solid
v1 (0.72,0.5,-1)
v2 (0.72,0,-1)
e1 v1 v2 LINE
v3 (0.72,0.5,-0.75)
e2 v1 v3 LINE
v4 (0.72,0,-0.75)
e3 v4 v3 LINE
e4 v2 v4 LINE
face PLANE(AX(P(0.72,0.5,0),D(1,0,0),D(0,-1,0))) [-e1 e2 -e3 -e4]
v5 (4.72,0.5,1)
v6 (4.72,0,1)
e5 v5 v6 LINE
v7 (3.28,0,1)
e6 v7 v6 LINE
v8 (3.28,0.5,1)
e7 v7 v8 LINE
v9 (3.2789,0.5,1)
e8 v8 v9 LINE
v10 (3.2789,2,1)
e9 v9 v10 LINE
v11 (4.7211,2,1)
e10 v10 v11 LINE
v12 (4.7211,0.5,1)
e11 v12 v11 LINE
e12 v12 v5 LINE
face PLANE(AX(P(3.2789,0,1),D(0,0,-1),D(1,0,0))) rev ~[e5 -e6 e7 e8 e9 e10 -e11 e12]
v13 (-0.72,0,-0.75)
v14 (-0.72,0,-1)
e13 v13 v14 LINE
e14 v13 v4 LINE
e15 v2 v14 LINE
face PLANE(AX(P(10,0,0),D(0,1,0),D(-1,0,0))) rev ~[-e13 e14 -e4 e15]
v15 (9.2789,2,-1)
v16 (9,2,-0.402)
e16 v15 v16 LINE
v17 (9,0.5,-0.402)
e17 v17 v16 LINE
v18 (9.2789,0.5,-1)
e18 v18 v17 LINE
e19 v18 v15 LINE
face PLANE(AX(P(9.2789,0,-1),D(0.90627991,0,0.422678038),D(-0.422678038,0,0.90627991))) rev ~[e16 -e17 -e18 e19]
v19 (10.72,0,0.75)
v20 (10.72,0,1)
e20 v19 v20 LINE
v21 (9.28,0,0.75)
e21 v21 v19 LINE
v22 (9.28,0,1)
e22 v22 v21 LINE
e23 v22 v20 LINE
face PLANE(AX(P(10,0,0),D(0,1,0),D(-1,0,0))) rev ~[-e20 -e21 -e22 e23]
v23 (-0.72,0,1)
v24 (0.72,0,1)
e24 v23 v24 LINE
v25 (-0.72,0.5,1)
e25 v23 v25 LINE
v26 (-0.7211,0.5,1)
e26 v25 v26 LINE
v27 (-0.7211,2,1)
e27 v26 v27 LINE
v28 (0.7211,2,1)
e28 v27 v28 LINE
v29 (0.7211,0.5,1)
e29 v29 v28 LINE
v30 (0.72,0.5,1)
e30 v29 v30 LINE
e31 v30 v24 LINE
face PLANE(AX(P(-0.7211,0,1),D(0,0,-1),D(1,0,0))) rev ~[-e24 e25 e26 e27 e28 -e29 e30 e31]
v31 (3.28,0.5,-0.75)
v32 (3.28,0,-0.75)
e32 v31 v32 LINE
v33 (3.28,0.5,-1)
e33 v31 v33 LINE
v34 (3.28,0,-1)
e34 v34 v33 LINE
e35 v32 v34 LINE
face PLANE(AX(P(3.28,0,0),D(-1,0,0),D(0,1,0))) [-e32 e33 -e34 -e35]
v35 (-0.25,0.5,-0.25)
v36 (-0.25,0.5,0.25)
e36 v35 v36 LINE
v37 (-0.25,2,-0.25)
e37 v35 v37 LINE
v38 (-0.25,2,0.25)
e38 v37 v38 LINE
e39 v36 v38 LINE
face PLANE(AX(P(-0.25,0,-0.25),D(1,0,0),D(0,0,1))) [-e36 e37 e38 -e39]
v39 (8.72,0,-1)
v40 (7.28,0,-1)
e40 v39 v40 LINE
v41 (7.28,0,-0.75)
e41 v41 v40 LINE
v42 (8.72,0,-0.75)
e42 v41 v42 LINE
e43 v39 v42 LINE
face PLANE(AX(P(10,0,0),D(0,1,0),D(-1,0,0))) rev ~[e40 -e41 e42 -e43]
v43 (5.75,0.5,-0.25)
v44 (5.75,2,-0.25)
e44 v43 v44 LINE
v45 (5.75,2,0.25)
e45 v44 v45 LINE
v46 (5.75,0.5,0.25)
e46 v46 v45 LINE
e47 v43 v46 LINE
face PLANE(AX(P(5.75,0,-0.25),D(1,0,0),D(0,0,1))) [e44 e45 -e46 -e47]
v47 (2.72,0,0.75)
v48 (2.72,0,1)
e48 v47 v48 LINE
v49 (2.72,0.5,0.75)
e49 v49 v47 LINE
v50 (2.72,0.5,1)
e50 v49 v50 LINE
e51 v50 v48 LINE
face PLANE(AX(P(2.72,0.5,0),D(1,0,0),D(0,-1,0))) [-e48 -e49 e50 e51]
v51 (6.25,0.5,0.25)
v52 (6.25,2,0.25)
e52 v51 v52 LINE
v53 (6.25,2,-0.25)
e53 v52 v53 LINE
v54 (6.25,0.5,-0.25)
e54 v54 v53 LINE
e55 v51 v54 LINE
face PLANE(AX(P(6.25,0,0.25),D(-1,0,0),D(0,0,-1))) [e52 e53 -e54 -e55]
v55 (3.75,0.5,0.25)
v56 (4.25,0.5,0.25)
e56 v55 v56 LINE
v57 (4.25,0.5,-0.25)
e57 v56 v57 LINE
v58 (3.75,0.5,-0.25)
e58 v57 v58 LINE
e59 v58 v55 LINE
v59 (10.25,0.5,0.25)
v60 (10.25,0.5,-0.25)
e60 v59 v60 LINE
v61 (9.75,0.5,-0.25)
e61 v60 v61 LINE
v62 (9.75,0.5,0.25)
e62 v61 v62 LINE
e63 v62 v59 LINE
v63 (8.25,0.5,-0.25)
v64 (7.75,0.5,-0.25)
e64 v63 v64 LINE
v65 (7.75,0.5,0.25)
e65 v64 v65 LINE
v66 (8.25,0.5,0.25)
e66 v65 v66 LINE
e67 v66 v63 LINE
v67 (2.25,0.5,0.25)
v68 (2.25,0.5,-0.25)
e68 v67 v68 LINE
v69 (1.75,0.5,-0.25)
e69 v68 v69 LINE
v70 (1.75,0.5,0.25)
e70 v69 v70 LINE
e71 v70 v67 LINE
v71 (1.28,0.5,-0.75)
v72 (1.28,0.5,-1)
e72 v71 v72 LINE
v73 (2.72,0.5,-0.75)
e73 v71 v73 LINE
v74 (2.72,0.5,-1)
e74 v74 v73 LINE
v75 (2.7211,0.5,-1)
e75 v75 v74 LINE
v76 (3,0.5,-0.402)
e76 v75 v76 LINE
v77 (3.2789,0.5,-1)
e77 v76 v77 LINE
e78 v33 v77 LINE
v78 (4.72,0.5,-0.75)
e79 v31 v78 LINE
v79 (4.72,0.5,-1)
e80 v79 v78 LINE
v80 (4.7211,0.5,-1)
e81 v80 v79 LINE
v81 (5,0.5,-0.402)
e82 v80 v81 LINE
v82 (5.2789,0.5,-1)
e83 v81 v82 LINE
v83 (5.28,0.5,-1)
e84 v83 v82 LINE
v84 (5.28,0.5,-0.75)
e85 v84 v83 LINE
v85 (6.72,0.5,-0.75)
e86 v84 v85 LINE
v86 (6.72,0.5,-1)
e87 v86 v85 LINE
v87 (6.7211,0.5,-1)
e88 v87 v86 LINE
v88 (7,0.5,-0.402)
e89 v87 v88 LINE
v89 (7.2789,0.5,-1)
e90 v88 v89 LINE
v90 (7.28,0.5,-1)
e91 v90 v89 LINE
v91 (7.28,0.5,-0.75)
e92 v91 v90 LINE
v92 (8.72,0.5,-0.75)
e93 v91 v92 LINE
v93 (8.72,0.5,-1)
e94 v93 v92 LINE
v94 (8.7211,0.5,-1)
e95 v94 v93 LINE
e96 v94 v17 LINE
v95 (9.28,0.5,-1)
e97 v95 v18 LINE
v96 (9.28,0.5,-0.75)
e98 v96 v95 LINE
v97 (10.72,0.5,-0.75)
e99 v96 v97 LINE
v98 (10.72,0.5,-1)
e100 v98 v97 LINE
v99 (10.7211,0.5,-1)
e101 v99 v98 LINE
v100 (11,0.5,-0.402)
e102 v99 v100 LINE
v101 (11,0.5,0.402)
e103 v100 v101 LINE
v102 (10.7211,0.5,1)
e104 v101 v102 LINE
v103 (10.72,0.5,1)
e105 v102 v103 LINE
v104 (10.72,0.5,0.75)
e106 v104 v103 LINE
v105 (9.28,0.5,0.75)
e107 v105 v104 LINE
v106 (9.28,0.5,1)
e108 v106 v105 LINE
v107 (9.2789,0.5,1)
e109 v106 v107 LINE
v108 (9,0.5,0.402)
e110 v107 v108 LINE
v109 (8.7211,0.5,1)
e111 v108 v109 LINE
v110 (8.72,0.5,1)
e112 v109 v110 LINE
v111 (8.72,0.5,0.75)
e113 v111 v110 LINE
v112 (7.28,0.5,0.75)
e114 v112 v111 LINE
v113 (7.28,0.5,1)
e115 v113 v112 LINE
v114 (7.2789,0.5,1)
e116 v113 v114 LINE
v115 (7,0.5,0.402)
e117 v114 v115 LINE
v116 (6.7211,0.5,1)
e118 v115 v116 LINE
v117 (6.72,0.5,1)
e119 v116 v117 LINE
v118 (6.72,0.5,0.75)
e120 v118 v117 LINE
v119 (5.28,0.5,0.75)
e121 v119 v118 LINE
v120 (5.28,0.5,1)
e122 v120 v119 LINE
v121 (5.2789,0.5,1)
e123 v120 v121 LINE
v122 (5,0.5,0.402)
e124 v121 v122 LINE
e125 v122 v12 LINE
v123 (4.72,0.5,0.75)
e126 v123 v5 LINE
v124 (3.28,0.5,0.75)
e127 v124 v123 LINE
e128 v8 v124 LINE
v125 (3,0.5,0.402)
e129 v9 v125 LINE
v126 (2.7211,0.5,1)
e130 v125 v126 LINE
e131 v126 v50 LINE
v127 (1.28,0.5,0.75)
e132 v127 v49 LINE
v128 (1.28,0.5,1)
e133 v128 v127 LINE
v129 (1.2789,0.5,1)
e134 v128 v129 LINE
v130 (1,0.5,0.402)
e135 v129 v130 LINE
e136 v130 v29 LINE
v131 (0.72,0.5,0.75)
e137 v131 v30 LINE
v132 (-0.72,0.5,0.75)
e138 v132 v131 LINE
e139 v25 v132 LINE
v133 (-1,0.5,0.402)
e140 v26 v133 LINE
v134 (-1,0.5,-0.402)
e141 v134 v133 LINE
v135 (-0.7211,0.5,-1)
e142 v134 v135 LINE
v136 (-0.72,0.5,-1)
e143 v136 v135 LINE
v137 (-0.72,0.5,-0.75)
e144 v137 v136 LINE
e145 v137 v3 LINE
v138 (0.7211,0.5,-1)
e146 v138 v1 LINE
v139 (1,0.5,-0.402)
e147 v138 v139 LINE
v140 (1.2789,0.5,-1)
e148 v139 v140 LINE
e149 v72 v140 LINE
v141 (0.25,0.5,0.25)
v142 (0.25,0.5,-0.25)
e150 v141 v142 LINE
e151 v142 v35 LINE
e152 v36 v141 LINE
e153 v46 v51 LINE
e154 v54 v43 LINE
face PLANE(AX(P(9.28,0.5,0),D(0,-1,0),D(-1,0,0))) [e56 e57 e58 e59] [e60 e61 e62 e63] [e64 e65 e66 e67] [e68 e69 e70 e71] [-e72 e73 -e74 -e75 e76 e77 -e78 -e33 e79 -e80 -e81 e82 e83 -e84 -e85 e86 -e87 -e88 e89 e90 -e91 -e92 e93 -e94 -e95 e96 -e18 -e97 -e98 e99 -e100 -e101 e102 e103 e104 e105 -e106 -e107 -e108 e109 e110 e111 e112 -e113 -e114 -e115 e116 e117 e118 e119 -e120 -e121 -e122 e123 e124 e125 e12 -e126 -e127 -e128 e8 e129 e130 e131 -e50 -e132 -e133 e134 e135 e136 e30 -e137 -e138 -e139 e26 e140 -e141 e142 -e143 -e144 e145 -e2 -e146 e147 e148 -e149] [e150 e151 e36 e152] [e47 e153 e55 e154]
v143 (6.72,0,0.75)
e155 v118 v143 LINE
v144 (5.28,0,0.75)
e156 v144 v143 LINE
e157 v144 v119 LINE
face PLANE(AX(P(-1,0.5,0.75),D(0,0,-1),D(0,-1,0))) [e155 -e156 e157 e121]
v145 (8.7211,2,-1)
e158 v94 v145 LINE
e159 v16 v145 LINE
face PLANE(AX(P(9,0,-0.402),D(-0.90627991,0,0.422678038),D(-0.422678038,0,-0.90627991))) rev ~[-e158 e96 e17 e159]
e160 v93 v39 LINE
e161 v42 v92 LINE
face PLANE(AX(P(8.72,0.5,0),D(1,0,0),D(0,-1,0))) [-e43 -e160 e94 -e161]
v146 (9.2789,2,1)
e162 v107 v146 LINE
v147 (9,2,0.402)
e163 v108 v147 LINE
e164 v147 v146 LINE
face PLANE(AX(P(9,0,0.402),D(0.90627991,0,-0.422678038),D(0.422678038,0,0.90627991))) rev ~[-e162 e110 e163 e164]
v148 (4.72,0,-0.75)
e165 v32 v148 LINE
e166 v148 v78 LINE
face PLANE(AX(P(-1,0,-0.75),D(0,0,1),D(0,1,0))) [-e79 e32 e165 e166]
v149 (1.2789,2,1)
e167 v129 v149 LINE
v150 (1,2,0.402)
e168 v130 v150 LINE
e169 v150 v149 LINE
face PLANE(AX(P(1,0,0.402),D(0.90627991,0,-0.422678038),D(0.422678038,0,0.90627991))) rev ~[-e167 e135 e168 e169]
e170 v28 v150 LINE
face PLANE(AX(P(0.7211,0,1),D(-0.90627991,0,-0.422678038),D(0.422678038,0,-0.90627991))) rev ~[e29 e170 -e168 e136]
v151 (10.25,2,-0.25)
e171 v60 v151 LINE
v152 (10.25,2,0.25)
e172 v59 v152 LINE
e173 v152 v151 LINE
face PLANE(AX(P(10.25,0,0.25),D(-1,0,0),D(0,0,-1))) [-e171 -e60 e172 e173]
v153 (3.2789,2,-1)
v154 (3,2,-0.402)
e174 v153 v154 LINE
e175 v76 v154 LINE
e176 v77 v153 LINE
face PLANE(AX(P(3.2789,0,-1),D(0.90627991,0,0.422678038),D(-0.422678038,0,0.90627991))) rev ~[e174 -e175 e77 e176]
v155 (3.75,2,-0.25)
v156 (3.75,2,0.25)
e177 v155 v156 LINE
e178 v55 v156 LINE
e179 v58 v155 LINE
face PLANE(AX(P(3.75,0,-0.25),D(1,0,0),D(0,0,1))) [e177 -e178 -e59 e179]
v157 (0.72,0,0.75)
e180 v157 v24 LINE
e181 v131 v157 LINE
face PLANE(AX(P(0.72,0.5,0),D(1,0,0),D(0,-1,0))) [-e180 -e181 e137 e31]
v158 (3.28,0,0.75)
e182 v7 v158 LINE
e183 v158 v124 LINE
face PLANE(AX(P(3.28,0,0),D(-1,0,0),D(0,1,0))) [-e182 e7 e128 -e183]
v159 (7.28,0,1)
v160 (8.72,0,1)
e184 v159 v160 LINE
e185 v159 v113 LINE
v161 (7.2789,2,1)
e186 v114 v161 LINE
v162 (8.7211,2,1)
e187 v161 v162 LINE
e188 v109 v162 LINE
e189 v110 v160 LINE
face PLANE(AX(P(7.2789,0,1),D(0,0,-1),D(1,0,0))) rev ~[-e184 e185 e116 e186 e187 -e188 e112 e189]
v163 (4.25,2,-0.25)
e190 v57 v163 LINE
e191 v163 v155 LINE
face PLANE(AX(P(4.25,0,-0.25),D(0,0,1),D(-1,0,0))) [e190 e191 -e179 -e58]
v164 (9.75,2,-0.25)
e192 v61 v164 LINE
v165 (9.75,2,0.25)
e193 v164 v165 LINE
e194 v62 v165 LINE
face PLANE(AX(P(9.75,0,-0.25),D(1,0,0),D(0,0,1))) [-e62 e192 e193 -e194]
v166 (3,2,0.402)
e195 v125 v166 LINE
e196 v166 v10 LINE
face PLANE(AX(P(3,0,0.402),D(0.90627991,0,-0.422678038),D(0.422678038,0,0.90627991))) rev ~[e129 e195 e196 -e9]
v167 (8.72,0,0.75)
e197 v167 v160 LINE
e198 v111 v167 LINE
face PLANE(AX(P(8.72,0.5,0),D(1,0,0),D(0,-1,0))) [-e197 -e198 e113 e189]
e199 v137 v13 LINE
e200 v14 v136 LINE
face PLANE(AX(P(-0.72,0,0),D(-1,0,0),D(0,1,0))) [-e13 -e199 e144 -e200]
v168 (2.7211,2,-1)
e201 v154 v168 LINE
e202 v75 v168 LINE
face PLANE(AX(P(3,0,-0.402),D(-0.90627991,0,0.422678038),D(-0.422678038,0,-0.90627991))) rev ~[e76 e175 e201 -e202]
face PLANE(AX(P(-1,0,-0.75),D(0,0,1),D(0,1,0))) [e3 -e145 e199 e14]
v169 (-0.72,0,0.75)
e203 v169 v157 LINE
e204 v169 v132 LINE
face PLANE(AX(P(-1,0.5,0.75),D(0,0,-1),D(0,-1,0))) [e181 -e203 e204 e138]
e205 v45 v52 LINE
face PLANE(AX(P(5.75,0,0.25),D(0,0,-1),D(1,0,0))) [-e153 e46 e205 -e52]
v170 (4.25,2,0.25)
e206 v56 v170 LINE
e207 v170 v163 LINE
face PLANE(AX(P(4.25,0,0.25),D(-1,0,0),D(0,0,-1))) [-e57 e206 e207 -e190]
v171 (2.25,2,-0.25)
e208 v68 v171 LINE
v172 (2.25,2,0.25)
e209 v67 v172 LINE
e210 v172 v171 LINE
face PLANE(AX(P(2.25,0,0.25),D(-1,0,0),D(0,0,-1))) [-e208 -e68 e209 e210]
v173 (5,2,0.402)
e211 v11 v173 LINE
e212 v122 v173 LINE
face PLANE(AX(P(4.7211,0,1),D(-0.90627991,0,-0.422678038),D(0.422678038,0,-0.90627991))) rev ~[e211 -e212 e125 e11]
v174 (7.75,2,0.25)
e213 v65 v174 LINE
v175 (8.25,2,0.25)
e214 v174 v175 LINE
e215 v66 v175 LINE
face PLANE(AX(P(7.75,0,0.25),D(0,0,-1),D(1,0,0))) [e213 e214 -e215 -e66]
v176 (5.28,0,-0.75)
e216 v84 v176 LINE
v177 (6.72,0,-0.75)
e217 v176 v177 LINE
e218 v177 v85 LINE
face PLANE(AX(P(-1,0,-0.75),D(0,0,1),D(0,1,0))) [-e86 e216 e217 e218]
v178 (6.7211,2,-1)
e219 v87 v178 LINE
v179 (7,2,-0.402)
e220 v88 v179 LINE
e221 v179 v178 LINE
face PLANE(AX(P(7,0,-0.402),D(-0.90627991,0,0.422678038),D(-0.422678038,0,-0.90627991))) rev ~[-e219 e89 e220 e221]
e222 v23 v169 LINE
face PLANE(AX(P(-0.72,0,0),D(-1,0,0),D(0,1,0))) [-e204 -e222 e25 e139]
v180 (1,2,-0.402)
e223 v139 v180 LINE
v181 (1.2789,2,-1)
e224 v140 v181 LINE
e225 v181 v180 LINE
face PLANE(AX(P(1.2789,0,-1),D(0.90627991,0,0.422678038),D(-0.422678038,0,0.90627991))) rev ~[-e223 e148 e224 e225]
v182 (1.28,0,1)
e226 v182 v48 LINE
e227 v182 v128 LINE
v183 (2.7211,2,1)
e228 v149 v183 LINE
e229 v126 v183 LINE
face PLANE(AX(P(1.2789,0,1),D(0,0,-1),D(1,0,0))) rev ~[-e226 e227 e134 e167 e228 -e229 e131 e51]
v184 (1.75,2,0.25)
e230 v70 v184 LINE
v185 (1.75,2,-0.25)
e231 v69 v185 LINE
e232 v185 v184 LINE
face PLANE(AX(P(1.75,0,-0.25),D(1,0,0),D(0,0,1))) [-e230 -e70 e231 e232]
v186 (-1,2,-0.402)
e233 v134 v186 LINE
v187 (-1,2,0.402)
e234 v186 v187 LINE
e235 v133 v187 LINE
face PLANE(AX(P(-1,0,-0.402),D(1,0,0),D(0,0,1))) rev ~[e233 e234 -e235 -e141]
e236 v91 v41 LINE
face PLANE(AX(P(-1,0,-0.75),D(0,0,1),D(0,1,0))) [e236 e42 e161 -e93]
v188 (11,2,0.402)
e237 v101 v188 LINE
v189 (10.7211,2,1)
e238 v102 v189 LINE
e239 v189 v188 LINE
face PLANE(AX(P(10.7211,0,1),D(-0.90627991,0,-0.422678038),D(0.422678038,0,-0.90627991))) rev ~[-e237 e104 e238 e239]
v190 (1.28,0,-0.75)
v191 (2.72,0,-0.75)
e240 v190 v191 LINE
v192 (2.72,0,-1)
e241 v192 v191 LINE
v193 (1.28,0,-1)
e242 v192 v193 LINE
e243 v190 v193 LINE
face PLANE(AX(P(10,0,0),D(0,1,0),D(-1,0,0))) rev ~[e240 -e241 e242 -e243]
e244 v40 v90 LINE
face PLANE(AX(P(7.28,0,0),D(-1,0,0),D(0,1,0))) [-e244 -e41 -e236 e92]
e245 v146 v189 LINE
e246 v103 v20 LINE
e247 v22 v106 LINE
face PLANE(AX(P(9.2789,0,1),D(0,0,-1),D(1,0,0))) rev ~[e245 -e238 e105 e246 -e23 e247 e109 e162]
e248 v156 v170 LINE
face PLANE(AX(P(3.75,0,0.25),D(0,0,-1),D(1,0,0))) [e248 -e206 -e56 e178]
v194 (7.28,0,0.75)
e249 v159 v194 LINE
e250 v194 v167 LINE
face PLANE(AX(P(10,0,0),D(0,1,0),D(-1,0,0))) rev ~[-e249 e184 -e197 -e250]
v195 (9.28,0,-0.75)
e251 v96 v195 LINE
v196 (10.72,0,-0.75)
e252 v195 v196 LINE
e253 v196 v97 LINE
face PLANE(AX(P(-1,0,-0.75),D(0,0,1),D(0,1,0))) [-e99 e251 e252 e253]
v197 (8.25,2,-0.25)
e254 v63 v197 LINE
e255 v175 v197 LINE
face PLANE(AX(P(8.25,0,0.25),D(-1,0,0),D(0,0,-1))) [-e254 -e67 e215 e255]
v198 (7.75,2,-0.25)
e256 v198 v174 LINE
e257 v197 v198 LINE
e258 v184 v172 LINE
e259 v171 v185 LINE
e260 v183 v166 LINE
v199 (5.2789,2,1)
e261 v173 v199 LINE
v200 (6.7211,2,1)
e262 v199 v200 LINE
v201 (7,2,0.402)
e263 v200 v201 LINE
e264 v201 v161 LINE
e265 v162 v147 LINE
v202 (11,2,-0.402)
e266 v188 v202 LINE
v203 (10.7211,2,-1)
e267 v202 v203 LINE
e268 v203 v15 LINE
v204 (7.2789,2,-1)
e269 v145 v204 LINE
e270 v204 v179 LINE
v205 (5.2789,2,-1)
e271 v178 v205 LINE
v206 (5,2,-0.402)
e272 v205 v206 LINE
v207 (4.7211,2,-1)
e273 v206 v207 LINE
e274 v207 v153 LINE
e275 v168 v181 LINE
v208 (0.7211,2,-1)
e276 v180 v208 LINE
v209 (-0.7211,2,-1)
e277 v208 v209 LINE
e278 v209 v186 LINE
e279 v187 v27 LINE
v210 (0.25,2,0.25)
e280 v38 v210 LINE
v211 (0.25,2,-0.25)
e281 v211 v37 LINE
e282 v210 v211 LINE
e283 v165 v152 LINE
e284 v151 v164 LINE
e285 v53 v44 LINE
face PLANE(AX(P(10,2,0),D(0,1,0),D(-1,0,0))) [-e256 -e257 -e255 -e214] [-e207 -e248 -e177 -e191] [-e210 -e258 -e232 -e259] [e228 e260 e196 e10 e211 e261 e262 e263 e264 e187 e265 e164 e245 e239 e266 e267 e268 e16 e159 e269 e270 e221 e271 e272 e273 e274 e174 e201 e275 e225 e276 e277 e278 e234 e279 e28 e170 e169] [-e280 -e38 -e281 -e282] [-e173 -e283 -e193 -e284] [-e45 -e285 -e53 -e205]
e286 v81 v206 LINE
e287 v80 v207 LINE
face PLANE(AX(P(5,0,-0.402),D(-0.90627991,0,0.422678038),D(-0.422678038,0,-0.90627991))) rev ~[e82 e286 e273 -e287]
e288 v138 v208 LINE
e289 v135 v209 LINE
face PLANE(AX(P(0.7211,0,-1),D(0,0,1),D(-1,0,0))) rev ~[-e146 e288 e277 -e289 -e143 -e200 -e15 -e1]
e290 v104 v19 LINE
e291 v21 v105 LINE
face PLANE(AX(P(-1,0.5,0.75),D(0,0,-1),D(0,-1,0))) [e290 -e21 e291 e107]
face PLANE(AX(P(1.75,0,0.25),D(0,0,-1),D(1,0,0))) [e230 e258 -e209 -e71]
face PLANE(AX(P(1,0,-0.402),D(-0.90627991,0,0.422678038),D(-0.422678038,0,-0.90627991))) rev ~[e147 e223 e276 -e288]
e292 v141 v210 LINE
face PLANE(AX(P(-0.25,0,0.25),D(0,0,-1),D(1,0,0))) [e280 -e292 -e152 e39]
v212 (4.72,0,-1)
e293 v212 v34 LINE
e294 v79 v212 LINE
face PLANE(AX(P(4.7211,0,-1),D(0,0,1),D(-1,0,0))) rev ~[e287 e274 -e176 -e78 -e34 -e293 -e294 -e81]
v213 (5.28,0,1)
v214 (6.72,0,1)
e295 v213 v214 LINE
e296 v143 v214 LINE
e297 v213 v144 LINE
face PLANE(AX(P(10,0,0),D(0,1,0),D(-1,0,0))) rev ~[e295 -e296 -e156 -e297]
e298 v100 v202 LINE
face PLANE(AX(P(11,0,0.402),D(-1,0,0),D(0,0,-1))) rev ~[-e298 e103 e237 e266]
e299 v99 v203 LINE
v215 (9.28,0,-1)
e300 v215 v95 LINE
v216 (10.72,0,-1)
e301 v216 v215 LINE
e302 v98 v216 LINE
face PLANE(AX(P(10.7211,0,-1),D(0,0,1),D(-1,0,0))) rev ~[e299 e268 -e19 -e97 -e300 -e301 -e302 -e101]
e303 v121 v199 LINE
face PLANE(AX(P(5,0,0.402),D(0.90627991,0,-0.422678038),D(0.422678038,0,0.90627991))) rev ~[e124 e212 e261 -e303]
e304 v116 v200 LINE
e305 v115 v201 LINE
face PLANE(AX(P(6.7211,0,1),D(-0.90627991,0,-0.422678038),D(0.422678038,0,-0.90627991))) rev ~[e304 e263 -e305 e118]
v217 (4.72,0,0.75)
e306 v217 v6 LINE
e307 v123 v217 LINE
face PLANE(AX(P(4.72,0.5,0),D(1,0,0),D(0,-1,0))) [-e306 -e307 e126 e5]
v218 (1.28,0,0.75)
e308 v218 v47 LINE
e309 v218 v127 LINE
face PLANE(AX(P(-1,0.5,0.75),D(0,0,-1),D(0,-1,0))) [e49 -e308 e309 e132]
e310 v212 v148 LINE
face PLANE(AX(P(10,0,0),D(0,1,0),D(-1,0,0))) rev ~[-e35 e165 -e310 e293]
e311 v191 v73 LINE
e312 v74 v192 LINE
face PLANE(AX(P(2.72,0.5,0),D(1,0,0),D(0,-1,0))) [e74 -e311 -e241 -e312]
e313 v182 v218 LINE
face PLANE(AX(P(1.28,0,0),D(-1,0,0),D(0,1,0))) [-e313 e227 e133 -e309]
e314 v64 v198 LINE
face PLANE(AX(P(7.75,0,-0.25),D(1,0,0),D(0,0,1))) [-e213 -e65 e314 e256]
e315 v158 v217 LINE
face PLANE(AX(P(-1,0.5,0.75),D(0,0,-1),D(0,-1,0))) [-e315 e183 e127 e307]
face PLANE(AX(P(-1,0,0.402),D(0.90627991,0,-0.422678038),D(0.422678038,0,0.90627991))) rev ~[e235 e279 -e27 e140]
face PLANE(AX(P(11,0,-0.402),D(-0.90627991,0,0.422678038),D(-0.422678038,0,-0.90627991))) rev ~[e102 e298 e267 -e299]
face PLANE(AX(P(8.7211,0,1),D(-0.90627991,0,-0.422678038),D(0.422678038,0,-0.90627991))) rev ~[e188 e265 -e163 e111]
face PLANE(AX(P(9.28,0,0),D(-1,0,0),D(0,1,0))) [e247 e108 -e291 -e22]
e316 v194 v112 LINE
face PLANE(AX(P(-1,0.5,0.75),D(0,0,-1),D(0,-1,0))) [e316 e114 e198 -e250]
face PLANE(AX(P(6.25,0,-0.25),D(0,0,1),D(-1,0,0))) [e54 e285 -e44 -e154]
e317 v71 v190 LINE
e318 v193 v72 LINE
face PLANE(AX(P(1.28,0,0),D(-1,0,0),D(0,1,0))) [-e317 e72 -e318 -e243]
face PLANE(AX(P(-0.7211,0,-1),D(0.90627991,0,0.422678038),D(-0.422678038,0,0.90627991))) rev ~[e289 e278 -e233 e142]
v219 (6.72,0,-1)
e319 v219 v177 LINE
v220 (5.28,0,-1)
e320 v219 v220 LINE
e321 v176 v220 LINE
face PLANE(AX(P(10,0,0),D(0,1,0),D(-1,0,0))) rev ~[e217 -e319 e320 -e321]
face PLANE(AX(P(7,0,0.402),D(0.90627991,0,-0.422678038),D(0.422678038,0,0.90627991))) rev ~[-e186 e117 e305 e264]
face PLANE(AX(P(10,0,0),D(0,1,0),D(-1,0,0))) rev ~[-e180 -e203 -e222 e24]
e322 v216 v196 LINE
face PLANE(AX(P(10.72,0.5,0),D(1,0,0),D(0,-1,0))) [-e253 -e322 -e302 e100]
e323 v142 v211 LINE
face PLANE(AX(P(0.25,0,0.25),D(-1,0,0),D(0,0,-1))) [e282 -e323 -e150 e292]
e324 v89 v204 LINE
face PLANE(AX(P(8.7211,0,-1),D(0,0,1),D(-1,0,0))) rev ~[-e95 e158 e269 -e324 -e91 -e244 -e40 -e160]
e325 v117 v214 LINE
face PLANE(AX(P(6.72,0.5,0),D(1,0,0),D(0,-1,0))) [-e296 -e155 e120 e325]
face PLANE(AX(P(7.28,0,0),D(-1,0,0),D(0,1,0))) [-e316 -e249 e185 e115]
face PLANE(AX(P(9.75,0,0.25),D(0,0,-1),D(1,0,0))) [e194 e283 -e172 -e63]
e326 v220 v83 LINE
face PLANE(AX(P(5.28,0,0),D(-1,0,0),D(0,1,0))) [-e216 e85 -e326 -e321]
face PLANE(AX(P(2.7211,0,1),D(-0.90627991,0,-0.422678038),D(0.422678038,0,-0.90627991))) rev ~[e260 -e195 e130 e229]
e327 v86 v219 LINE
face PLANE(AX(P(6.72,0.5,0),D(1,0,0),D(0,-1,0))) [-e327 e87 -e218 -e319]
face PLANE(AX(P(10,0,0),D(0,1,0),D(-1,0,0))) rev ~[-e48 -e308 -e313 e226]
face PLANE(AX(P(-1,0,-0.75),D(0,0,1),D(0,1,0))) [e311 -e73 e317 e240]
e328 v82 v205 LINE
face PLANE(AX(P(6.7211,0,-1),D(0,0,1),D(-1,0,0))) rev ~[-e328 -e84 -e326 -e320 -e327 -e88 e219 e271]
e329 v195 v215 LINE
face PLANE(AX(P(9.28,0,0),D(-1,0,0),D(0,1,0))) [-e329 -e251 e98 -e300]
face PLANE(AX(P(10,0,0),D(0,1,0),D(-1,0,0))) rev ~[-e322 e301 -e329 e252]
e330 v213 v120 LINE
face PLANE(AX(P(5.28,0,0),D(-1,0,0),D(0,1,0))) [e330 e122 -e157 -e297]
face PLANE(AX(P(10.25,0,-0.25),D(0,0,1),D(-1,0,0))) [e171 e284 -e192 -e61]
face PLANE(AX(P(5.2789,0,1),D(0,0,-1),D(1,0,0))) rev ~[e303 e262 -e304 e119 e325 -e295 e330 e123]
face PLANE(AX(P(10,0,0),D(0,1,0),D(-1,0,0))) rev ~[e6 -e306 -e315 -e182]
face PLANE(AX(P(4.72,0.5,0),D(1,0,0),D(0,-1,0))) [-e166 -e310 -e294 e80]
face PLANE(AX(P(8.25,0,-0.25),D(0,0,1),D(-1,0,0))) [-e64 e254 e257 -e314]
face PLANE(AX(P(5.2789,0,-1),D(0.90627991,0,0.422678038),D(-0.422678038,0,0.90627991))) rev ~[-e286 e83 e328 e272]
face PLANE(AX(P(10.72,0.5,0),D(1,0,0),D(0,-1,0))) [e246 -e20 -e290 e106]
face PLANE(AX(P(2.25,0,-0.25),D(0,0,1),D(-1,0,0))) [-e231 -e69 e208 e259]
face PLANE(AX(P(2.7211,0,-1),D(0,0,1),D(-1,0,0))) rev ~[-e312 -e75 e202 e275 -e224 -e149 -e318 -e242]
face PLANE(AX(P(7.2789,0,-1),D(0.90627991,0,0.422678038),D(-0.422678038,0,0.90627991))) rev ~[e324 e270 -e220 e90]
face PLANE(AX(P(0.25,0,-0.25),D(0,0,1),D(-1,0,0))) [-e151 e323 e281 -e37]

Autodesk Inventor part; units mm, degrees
sketch "Sketch_2" plane through (0, 0, 0) normal (0, 1, 0) x (-1, 0, 0)
  line L0 (1, -0.402) -> (1, 0.402)
  line L1 (1, 0.402) -> (0.7211, 1)
  line L2 (0.7211, 1) -> (-0.7211, 1)
  line L3 (-0.7211, 1) -> (-1, 0.402)
  line L4 (-1, 0.402) -> (-1, -0.402)
  line L5 (-1, -0.402) -> (-0.7211, -1)
  line L6 (-0.7211, -1) -> (0.7211, -1)
  line L7 (0.7211, -1) -> (1, -0.402)
extrude "Extrusion1" add sketch "Sketch_2" along normal blind 2
pattern_linear "Rectangular Pattern1" count 6 spacing 2 along (1, 0, 0) of "Extrusion1"
sketch "Sketch_6" plane through (-1, 0, 0) normal (1, 0, 0) x (0, 0, -1)
  line L0 (-0.75, 0.5) -> (-0.75, 0)
  line L1 (-0.75, 0) -> (0.75, 0)
  line L2 (0.75, 0) -> (0.75, 0.5)
  line L3 (0.75, 0.5) -> (-0.75, 0.5)
extrude "Extrusion2" cut sketch "Sketch_6" along normal blind 12
sketch "Sketch_4" plane through (0, 0, 0) normal (0, 1, 0) x (-1, 0, 0)
  line L0 (0.25, -0.25) -> (0.25, 0.25)
  line L1 (0.25, 0.25) -> (-0.25, 0.25)
  line L2 (-0.25, 0.25) -> (-0.25, -0.25)
  line L3 (-0.25, -0.25) -> (0.25, -0.25)
extrude "Extrusion3" cut sketch "Sketch_4" along normal blind 2
pattern_linear "Rectangular Pattern2" count 6 spacing 2 along (1, 0, 0) of "Extrusion3"
sketch "Sketch_9" plane through (0, 0, 0) normal (0, 0, 1) x (1, 0, 0)
  line L0 (-1.28, 0.5) -> (-1.28, 0)
  line L1 (-1.28, 0) -> (-0.72, 0)
  line L2 (-0.72, 0) -> (-0.72, 0.5)
  line L3 (-0.72, 0.5) -> (-1.28, 0.5)
extrude "Extrusion4" cut sketch "Sketch_9" along normal mid plane 2
pattern_linear "Rectangular Pattern3" count 7 spacing 2 along (1, 0, 0) of "Extrusion4"
ref_plane "FOR_PIN_1_XY" through (0, 2, 0) normal (0, 1, 0) x (1, 0, 0)
ref_plane "FOR_PIN_1_YZ" through (0, 2, 0) normal (1, 0, 0) x (0, 0, -1)
ref_plane "FOR_PIN_1_ZX" through (0, 2, 0) normal (0, 0, -1) x (0, 1, 0)
ref_plane "FOR_PIN_2_XY" through (2, 2, 0) normal (0, 1, 0) x (1, 0, 0)
ref_plane "FOR_PIN_2_YZ" through (2, 2, 0) normal (1, 0, 0) x (0, 0, -1)
ref_plane "FOR_PIN_2_ZX" through (2, 2, 0) normal (0, 0, -1) x (0, 1, 0)
ref_plane "FOR_PIN_3_XY" through (4, 2, 0) normal (0, 1, 0) x (1, 0, 0)
ref_plane "FOR_PIN_3_YZ" through (4, 2, 0) normal (1, 0, 0) x (0, 0, -1)
ref_plane "FOR_PIN_3_ZX" through (4, 2, 0) normal (0, 0, -1) x (0, 1, 0)
ref_plane "FOR_PIN_4_XY" through (6, 2, 0) normal (0, 1, 0) x (1, 0, 0)
ref_plane "FOR_PIN_4_YZ" through (6, 2, 0) normal (1, 0, 0) x (0, 0, -1)
ref_plane "FOR_PIN_4_ZX" through (6, 2, 0) normal (0, 0, -1) x (0, 1, 0)
ref_plane "FOR_PIN_5_XY" through (8, 2, 0) normal (0, 1, 0) x (1, 0, 0)
ref_plane "FOR_PIN_5_YZ" through (8, 2, 0) normal (1, 0, 0) x (0, 0, -1)
ref_plane "FOR_PIN_5_ZX" through (8, 2, 0) normal (0, 0, -1) x (0, 1, 0)
ref_plane "FOR_PIN_6_XY" through (10, 2, 0) normal (0, 1, 0) x (1, 0, 0)
ref_plane "FOR_PIN_6_YZ" through (10, 2, 0) normal (1, 0, 0) x (0, 0, -1)
ref_plane "FOR_PIN_6_ZX" through (10, 2, 0) normal (0, 0, -1) x (0, 1, 0)
ref_plane "IP_HOUSING_XY" through (-1, 0, 0) normal (0, 1, 0) x (1, 0, 0)
ref_plane "IP_HOUSING_YZ" through (-1, 0, 0) normal (1, 0, 0) x (0, 0, -1)
ref_plane "IP_HOUSING_ZX" through (-1, 0, 0) normal (0, 0, -1) x (0, 1, 0)
properties part number "BF021-06-A-B-0400-0280-N-G_H"
